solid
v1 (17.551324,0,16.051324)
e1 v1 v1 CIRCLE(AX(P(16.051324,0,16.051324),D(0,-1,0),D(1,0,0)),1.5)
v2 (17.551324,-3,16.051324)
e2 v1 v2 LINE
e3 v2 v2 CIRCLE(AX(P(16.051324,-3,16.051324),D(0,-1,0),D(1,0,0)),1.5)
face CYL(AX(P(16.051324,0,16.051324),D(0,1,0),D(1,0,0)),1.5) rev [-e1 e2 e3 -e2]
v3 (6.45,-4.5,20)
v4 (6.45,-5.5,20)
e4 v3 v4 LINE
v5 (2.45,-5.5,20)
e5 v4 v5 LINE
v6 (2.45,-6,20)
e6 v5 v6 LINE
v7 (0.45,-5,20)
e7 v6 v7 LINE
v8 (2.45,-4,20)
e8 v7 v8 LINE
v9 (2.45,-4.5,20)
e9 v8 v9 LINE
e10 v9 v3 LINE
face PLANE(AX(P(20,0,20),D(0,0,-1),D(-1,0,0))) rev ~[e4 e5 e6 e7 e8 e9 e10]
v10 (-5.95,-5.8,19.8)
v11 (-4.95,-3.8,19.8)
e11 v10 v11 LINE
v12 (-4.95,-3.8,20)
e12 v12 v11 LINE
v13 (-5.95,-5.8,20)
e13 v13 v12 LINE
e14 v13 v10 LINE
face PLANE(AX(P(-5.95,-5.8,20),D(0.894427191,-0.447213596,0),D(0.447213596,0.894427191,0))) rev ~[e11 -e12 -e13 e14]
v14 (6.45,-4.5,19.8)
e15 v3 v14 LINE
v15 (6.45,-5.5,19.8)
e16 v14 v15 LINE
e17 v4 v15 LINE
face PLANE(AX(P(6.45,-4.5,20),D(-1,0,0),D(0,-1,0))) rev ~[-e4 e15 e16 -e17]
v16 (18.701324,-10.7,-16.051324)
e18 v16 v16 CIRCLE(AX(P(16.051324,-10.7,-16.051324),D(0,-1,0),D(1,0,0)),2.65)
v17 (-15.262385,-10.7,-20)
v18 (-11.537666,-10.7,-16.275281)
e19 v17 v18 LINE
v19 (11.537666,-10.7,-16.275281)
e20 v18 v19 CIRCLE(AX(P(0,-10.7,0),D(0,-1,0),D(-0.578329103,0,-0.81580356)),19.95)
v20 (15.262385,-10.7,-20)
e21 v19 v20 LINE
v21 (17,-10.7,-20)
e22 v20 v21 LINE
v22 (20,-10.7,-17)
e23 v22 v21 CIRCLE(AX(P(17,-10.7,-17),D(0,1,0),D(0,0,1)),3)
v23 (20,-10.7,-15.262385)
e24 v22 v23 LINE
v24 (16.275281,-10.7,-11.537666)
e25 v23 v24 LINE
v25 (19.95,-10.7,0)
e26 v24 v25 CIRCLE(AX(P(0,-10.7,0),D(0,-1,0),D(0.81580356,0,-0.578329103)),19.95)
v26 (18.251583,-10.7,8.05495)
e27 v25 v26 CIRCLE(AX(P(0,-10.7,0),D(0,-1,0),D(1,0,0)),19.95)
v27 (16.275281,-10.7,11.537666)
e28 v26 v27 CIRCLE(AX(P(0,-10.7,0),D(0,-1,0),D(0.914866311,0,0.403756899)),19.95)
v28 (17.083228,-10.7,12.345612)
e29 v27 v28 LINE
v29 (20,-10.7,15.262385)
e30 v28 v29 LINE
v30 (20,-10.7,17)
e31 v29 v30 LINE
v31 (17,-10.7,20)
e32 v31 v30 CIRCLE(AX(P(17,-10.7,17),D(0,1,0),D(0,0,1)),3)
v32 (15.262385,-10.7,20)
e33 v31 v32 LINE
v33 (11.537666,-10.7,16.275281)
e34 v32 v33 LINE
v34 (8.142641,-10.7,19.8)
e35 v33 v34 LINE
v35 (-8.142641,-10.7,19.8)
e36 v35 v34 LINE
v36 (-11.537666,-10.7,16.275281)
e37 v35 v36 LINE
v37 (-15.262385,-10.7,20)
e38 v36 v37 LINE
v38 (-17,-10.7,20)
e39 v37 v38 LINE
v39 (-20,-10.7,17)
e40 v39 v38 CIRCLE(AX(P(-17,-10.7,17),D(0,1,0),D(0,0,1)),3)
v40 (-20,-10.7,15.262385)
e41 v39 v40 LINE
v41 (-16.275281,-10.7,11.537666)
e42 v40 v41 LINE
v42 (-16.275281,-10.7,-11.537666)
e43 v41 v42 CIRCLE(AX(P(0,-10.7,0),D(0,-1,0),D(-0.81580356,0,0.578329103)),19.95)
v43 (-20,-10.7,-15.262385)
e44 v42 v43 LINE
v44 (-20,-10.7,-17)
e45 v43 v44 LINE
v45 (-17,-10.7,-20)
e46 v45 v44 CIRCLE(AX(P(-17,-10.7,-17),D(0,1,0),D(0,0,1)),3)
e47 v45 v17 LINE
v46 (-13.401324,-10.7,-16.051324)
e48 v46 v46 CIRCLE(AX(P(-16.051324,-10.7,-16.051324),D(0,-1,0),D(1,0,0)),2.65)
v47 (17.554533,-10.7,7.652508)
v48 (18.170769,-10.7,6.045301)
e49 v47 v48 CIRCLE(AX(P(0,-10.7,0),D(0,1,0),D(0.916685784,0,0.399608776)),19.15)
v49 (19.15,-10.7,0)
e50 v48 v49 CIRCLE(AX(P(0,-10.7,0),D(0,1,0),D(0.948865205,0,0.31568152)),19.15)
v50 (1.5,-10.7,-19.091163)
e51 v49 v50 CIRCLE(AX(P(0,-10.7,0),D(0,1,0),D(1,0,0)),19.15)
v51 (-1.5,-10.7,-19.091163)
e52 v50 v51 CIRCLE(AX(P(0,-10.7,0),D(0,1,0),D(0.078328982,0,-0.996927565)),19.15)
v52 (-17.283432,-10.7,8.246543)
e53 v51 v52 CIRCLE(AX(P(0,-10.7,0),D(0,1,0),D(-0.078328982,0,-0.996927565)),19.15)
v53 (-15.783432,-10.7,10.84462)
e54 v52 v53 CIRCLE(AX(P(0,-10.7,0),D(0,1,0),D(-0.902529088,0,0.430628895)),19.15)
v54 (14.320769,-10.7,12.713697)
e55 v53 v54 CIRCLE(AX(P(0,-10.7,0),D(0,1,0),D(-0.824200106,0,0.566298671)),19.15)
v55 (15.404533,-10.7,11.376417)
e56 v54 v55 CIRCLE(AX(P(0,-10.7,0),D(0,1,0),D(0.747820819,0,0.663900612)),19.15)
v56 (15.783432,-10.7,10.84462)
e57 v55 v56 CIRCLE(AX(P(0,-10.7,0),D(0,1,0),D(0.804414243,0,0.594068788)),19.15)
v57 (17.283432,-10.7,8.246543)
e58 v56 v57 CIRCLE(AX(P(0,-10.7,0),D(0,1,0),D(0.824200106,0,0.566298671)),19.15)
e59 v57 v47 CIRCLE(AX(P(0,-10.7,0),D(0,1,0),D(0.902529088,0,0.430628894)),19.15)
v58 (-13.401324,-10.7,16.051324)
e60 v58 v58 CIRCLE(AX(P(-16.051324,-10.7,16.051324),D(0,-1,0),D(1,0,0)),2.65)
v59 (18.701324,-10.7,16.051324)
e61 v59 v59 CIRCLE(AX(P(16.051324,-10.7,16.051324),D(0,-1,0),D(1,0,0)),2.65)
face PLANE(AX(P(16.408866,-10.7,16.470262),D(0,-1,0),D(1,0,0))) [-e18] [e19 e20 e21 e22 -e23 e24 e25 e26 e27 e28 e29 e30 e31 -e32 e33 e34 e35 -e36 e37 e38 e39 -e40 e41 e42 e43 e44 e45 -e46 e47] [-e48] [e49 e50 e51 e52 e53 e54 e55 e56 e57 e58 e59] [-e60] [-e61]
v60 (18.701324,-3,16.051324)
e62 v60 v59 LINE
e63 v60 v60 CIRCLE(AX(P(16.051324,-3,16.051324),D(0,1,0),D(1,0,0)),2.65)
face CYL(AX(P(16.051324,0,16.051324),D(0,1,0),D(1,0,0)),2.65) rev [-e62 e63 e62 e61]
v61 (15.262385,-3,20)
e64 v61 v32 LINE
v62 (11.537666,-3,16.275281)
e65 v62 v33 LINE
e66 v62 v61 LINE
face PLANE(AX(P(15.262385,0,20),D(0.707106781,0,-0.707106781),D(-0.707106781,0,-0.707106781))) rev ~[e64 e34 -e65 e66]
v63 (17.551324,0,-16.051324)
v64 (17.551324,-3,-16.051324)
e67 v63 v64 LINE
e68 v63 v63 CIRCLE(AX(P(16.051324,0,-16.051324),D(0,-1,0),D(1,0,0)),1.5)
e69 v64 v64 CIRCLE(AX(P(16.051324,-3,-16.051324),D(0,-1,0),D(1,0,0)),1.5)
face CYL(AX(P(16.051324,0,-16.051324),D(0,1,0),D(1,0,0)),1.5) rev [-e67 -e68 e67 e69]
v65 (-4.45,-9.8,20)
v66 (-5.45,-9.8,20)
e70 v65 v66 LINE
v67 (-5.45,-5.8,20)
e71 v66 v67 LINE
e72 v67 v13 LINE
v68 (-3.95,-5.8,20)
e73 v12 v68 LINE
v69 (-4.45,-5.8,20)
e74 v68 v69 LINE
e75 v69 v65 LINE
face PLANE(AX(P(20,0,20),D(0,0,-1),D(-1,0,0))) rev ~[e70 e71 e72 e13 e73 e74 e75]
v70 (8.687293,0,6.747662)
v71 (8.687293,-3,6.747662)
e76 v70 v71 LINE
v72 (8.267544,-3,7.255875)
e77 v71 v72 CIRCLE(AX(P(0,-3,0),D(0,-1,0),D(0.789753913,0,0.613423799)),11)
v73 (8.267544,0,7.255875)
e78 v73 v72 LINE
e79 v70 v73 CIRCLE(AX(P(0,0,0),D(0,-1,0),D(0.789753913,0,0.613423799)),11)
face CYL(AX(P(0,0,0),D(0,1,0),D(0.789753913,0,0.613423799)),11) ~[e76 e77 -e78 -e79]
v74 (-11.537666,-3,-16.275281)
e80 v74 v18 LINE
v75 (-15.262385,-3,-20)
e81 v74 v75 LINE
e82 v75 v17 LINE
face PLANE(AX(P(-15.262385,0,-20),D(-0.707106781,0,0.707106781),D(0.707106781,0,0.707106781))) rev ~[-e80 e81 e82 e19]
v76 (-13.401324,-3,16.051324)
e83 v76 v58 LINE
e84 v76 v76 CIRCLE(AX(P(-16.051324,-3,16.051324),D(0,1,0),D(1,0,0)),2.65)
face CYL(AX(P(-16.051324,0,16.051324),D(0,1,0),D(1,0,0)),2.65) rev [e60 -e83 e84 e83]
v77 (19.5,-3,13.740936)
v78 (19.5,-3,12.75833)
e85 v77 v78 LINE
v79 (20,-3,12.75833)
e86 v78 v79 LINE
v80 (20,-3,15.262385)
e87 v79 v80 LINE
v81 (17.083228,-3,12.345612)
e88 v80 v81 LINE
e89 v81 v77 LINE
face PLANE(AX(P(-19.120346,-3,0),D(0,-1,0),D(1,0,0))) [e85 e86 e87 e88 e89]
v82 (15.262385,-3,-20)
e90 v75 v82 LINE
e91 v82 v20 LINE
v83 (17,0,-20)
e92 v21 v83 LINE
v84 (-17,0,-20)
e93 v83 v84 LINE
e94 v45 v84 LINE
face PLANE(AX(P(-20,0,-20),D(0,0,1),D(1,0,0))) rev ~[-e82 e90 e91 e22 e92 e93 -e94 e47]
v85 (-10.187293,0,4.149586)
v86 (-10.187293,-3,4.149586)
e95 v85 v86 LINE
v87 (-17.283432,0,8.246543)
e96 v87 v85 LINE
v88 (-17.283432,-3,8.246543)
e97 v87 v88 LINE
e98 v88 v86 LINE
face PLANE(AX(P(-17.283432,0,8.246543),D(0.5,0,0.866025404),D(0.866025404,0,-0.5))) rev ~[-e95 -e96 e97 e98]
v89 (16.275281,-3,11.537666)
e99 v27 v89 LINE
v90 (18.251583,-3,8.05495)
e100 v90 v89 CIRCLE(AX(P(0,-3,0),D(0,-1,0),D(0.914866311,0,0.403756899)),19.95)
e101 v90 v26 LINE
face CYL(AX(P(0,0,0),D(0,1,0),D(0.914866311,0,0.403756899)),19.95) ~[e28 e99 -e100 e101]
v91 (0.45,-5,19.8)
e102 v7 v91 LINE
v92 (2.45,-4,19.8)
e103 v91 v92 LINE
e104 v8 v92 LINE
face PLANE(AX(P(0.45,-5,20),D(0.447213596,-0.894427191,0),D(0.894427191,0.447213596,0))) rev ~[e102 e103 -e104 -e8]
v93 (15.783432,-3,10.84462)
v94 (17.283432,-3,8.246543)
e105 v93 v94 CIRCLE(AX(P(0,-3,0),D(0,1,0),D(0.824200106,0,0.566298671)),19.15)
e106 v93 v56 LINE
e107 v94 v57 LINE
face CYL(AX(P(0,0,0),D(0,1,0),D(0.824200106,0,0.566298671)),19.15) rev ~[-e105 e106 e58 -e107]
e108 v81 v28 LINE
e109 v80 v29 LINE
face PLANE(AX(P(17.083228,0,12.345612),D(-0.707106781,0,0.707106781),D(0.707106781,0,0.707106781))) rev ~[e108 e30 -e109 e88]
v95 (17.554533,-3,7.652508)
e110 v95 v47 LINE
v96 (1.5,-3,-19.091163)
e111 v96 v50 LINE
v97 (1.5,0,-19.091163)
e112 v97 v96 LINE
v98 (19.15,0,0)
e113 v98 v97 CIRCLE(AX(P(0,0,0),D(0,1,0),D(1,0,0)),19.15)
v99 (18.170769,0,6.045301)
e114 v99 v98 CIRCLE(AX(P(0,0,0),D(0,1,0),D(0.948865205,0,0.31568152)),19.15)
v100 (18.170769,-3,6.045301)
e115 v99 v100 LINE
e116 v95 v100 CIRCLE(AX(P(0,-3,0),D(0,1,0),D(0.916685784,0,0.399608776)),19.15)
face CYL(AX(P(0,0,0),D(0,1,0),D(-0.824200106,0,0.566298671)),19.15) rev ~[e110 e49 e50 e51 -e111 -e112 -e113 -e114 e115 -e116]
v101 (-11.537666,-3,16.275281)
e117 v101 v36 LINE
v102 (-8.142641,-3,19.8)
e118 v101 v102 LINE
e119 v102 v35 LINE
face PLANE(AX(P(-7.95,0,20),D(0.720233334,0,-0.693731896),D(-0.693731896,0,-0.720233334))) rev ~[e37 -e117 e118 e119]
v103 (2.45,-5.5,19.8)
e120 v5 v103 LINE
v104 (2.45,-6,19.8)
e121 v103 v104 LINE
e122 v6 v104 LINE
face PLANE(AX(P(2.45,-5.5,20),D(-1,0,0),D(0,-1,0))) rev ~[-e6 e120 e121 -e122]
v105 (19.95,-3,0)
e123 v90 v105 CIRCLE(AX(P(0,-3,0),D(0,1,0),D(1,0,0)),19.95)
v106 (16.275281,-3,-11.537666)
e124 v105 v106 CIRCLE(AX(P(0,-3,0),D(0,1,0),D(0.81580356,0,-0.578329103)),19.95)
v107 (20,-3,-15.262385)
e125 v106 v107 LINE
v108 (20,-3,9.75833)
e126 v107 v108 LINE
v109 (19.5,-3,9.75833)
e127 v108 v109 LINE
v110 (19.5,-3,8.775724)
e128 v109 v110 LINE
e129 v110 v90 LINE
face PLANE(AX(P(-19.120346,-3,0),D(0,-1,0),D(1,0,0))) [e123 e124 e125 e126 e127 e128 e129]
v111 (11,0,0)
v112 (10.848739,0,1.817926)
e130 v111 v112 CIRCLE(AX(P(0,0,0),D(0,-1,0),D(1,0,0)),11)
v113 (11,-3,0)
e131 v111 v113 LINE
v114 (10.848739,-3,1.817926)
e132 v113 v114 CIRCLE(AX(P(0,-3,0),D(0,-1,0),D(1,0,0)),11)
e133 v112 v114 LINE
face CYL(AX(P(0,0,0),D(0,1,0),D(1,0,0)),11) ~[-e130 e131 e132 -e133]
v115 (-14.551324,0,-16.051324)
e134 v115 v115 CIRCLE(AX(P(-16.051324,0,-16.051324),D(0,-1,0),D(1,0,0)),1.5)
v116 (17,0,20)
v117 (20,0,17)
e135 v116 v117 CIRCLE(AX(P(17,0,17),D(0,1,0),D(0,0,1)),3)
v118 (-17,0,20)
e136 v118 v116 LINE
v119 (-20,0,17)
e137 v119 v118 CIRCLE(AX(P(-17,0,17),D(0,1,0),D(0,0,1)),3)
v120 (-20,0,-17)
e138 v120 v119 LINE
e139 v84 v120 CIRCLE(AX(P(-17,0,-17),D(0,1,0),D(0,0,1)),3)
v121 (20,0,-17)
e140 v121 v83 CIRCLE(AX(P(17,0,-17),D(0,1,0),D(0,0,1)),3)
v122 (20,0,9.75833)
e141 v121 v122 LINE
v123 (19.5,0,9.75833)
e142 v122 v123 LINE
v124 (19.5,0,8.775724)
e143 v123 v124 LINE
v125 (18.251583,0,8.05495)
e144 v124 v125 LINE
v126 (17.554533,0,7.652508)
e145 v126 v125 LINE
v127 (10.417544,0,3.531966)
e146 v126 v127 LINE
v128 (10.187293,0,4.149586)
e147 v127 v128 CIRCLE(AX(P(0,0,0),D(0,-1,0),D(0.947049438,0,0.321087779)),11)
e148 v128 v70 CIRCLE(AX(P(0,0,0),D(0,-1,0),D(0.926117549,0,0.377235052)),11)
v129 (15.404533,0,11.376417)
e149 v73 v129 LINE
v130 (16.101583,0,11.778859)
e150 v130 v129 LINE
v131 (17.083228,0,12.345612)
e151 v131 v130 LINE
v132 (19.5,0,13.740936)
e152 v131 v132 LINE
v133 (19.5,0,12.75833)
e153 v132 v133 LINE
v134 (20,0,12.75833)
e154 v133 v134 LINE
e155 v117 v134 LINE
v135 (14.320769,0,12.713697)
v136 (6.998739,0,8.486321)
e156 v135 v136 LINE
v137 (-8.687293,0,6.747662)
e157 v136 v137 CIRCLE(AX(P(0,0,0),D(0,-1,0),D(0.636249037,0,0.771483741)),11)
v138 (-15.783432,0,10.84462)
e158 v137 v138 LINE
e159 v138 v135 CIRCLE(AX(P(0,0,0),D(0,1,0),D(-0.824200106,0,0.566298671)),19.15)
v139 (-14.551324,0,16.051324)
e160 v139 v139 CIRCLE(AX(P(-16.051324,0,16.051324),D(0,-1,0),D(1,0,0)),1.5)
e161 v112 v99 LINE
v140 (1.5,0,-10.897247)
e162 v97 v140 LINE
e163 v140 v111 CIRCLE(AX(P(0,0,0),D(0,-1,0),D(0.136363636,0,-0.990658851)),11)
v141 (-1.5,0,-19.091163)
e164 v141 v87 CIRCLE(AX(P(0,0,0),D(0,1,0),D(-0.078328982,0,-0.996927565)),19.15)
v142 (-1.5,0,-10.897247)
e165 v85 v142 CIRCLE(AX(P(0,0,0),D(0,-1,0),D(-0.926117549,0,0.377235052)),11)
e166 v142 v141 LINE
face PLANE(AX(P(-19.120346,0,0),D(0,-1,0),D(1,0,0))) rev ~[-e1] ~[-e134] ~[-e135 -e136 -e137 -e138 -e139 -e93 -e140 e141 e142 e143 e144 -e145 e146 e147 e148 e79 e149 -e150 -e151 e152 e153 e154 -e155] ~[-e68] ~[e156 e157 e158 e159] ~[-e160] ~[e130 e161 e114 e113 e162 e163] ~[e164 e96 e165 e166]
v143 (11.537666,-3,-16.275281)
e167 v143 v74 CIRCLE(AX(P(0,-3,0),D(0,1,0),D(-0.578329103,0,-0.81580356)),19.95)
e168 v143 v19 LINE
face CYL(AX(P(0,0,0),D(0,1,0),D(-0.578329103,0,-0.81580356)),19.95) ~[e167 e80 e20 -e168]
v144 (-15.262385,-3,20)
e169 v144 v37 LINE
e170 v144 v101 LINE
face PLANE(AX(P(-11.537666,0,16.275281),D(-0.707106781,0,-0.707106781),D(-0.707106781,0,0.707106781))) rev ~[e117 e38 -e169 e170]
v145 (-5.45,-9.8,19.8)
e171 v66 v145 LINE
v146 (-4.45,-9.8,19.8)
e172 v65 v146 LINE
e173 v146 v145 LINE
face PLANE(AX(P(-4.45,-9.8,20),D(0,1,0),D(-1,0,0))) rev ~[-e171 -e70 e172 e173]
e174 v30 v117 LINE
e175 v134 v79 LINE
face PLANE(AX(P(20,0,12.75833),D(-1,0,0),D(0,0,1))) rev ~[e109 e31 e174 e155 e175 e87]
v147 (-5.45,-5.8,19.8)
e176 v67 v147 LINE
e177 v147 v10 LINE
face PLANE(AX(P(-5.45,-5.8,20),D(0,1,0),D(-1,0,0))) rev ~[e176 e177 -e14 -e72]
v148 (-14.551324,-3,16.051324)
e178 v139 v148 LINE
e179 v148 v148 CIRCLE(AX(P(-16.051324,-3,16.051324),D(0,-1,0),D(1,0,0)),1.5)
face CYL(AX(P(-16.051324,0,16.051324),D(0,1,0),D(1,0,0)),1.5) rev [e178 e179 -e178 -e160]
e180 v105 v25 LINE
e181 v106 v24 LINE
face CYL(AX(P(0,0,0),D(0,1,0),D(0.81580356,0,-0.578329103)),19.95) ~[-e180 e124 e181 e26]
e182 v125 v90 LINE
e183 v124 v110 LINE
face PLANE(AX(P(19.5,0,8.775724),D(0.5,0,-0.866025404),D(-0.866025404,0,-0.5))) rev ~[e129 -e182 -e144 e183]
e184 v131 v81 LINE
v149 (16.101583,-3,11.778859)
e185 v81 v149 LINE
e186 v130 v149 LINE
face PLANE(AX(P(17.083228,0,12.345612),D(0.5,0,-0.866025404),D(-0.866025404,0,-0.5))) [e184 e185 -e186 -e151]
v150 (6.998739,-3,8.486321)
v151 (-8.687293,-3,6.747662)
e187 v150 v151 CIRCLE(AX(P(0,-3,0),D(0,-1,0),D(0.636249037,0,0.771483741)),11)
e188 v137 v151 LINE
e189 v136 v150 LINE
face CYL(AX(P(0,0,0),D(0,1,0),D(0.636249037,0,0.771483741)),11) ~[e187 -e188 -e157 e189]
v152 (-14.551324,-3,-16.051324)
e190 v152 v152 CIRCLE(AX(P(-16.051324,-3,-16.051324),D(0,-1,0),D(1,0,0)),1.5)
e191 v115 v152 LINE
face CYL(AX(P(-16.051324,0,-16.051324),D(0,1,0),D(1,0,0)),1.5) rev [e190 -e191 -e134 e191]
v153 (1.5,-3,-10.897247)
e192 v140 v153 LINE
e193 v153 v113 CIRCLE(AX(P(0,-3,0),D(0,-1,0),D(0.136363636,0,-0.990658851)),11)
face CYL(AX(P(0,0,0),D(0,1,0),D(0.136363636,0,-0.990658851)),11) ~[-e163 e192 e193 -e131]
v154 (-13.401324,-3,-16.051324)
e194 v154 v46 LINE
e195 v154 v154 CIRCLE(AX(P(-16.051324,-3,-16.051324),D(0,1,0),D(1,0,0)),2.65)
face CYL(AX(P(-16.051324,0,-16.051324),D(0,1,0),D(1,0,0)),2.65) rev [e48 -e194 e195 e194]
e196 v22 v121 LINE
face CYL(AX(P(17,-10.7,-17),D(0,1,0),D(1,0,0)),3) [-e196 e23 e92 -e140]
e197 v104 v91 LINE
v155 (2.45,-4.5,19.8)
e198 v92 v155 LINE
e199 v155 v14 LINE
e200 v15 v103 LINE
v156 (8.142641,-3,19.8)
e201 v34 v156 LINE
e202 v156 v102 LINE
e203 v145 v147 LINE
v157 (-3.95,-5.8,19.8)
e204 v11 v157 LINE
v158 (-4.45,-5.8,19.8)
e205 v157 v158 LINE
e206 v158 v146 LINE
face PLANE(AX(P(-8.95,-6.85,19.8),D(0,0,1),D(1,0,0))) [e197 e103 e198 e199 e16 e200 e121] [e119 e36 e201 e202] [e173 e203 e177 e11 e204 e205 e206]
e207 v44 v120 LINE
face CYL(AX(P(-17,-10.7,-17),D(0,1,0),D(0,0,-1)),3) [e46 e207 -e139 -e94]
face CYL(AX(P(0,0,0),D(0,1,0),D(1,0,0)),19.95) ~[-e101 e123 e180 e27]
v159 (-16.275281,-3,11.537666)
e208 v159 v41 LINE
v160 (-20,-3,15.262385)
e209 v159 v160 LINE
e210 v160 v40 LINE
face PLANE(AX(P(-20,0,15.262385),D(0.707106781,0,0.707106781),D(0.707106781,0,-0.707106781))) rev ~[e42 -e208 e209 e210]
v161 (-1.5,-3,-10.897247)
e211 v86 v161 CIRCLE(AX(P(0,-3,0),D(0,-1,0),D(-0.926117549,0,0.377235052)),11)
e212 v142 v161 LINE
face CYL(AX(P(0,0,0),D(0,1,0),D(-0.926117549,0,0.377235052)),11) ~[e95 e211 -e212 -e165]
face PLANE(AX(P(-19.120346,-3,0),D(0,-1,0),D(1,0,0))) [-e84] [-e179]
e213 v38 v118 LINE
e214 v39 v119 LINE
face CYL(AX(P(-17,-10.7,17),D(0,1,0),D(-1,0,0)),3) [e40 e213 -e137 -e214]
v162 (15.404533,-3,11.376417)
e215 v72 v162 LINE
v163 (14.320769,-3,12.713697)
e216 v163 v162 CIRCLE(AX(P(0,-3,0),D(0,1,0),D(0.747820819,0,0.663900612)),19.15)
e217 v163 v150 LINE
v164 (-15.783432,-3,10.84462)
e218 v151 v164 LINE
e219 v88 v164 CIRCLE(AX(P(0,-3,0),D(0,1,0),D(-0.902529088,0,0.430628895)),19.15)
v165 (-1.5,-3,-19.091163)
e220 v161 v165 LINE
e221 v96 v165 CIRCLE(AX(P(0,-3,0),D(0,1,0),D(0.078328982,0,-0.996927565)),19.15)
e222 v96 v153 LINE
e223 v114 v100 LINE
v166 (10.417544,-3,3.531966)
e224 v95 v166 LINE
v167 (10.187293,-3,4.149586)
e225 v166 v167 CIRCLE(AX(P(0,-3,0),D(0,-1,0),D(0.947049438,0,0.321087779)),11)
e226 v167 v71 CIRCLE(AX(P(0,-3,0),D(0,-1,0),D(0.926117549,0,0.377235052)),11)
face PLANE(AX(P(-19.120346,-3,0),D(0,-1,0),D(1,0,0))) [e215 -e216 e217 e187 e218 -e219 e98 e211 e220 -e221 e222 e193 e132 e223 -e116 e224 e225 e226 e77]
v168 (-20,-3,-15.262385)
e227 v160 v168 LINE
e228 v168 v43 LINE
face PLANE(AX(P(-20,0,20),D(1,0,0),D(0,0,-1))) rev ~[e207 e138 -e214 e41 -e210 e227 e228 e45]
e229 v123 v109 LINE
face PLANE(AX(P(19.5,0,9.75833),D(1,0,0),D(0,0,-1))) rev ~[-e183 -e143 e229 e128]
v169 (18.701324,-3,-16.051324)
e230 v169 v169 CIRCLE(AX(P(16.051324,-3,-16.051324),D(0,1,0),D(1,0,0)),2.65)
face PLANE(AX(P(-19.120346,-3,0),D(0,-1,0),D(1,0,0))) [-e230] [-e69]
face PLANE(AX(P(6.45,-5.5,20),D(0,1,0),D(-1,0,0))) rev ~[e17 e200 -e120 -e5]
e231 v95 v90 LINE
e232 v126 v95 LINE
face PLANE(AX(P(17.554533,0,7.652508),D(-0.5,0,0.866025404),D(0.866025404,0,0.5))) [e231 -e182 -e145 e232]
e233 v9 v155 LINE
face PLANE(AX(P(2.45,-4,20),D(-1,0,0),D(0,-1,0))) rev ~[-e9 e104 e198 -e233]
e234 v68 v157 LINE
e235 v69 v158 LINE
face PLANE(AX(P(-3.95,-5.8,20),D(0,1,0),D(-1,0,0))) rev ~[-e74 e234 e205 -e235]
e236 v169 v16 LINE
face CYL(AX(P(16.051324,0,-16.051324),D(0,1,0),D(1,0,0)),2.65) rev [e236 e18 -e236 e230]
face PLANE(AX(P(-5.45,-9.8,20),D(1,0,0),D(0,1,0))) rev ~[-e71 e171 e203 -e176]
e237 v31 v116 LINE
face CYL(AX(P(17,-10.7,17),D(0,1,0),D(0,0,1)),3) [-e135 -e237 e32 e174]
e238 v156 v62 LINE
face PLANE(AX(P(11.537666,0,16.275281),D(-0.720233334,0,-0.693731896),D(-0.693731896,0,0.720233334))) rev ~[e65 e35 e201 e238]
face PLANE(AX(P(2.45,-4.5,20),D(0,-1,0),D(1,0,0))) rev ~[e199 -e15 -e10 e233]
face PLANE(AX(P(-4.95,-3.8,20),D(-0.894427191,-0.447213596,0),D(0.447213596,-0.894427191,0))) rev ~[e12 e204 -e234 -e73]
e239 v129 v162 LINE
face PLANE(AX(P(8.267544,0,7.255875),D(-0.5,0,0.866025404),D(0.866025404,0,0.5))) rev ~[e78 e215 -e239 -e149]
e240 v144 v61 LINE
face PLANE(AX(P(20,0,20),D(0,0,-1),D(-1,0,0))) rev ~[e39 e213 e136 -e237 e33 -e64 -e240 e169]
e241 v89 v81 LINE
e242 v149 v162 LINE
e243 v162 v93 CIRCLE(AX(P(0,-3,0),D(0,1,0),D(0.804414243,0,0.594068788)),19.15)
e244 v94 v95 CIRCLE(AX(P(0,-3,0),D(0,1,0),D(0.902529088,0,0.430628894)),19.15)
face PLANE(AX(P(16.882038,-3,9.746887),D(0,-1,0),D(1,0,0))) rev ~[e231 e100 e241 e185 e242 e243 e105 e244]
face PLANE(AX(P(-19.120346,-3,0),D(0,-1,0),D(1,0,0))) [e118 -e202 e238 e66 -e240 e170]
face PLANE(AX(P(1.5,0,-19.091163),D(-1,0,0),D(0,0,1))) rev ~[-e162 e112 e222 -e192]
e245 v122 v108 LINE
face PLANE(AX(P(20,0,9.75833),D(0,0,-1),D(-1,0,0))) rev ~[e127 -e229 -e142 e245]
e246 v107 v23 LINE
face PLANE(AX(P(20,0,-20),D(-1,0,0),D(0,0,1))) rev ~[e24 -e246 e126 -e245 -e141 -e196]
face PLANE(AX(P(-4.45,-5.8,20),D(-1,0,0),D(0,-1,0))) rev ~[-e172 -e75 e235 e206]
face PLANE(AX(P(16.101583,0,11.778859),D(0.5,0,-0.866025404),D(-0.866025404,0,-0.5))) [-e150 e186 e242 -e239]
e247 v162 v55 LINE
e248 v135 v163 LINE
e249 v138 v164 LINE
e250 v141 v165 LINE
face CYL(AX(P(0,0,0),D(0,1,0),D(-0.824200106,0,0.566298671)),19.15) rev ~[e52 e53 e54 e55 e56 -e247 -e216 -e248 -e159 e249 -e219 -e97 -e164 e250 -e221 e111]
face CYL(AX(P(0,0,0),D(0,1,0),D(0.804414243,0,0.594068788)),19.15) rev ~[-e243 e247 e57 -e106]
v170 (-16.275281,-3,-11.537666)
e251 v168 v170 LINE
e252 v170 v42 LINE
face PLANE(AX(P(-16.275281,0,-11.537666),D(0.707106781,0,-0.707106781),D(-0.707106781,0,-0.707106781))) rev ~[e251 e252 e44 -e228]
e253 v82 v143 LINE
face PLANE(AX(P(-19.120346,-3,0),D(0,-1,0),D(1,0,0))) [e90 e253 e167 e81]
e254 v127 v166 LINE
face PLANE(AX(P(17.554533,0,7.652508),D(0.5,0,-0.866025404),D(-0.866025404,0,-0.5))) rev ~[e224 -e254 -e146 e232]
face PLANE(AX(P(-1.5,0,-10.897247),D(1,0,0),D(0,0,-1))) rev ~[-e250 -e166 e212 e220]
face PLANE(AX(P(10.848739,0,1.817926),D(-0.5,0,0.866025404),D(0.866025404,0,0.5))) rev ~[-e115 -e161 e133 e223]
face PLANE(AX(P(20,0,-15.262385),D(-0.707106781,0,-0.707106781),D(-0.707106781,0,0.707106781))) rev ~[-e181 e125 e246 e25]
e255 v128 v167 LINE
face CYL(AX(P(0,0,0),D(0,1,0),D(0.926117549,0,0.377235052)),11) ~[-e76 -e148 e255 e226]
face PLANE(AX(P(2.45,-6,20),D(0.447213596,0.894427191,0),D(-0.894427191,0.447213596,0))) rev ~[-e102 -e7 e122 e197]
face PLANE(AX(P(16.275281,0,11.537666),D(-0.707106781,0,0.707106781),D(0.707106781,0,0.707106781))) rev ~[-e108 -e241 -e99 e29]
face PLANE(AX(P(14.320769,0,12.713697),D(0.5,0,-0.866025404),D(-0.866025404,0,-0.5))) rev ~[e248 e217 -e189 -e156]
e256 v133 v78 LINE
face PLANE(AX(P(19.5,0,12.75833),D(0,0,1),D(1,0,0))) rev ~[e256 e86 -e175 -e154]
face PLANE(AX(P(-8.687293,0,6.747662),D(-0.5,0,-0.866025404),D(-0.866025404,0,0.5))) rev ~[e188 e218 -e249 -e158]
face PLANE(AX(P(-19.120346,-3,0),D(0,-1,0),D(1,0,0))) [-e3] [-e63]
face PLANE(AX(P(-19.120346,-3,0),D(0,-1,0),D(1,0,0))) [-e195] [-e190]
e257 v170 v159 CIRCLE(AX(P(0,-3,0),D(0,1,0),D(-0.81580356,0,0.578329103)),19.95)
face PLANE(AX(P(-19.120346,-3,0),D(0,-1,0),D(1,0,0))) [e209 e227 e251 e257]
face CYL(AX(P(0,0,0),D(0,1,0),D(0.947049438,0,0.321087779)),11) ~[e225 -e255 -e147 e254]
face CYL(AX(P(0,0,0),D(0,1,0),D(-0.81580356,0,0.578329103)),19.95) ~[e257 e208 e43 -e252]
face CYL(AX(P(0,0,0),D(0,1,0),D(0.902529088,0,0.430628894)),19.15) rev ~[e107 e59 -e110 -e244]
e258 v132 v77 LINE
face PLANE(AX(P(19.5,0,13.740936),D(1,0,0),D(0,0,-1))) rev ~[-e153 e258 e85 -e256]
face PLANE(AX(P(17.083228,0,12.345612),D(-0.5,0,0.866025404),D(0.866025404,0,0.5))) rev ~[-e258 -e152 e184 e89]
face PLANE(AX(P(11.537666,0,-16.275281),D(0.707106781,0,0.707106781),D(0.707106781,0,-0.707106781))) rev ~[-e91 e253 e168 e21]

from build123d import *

# Parameters (mm, degrees)
F0_R     = 2.65
F0_R_2   = 1.5
F1_DEPTH = 3
F2_DEPTH = 10.7
F3_DEPTH = 3
F4_R     = 3
F5_W     = 2
F5_H     = 7.7
F5_W_2   = 15.9
F6_DEPTH = 0.2


with BuildPart() as f1:
    # F0 (on Front) → F1 (new body)
    with BuildSketch(Plane.XZ):
        with BuildLine():
            ThreePointArc((-16.2752810298, -11.5376655958), (-19.95, 0), (-16.2752810298, 11.5376655958))
            Line((-16.2752810298, 11.5376655958), (-20, 15.2623845661))
            Line((-20, 15.2623845661), (-20, -15.2623845661))
            Line((-20, -15.2623845661), (-16.2752810298, -11.5376655958))
        make_face()
        with BuildLine():
            ThreePointArc((16.1015828965, 11.7788593772), (14.0013023046, 14.2114754257), (11.5376655958, 16.2752810298))
            ThreePointArc((11.5376655958, 16.2752810298), (0, 19.95), (-11.5376655958, 16.2752810298))
            ThreePointArc((-11.5376655958, 16.2752810298), (-14.1067802847, 14.1067802847), (-16.2752810298, 11.5376655958))
            ThreePointArc((-16.2752810298, 11.5376655958), (-19.95, 0), (-16.2752810298, -11.5376655958))
            ThreePointArc((-16.2752810298, -11.5376655958), (-14.1067802847, -14.1067802847), (-11.5376655958, -16.2752810298))
            ThreePointArc((-11.5376655958, -16.2752810298), (0, -19.95), (11.5376655958, -16.2752810298))
            ThreePointArc((11.5376655958, -16.2752810298), (14.1067802847, -14.1067802847), (16.2752810298, -11.5376655958))
            ThreePointArc((16.2752810298, -11.5376655958), (19.0091340748, -6.0543638582), (19.95, 0))
            ThreePointArc((19.95, 0), (19.5207784013, 4.1160309289), (18.2515828965, 8.0549501409))
            Line((18.2515828965, 8.0549501409), (17.5545327604, 7.6525080572))
            ThreePointArc((17.5545327604, 7.6525080572), (17.8807178068, 6.8558318761), (18.1707686799, 6.0453011159))
            ThreePointArc((18.1707686799, 6.0453011159), (18.9036070661, 3.0620483161), (19.15, 0))
            ThreePointArc((19.15, 0), (14.0614277369, -12.999951923), (1.5, -19.0911628771))
            ThreePointArc((1.5, -19.0911628771), (0, -19.15), (-1.5, -19.0911628771))
            ThreePointArc((-1.5, -19.0911628771), (-16.5843864825, -9.575), (-17.2834320394, 8.2465433329))
            ThreePointArc((-17.2834320394, 8.2465433329), (-16.5843864825, 9.575), (-15.7834320394, 10.8446195442))
            ThreePointArc((-15.7834320394, 10.8446195442), (-1.1866795704, 19.1131967917), (14.3207686799, 12.7136967251))
            ThreePointArc((14.3207686799, 12.7136967251), (14.8776834722, 12.0572399206), (15.4045327604, 11.3764172935))
            Line((15.4045327604, 11.3764172935), (16.1015828965, 11.7788593772))
        make_face()
        with BuildLine():
            ThreePointArc((-16.2752810298, 11.5376655958), (-14.1067802847, 14.1067802847), (-11.5376655958, 16.2752810298))
            Line((-11.5376655958, 16.2752810298), (-15.2623845661, 20))
            Line((-15.2623845661, 20), (-20, 20))
            Line((-20, 20), (-20, 15.2623845661))
            Line((-20, 15.2623845661), (-16.2752810298, 11.5376655958))
        make_face()
        with Locations((-16.0513239329, 16.0513239329)):
            Circle(F0_R, mode=Mode.SUBTRACT)
        Polygon((-11.5376655958, 16.2752810298), (-7.95, 20), (-15.2623845661, 20), align=None)
        with BuildLine():
            Line((11.5376655958, 16.2752810298), (7.95, 20))
            Line((7.95, 20), (-7.95, 20))
            Line((-7.95, 20), (-11.5376655958, 16.2752810298))
            ThreePointArc((-11.5376655958, 16.2752810298), (0, 19.95), (11.5376655958, 16.2752810298))
        make_face()
        Polygon((11.5376655958, 16.2752810298), (15.2623845661, 20), (7.95, 20), align=None)
        with BuildLine():
            Line((20, 15.2623845661), (20, 20))
            Line((20, 20), (15.2623845661, 20))
            Line((15.2623845661, 20), (11.5376655958, 16.2752810298))
            ThreePointArc((11.5376655958, 16.2752810298), (14.0013023046, 14.2114754257), (16.1015828965, 11.7788593772))
            Line((16.1015828965, 11.7788593772), (17.0832277064, 12.3456122724))
            Line((17.0832277064, 12.3456122724), (20, 15.2623845661))
        make_face()
        with Locations((16.0513239329, 16.0513239329)):
            Circle(F0_R, mode=Mode.SUBTRACT)
        with Locations((-16.0513239329, 16.0513239329)):
            Circle(F0_R)
        with Locations((-16.0513239329, 16.0513239329)):
            Circle(F0_R_2, mode=Mode.SUBTRACT)
        with Locations((16.0513239329, 16.0513239329)):
            Circle(F0_R)
        with Locations((16.0513239329, 16.0513239329)):
            Circle(F0_R_2, mode=Mode.SUBTRACT)
        with BuildLine():
            Line((-8.6872930441, 6.7476617851), (-15.7834320394, 10.8446195442))
            ThreePointArc((-15.7834320394, 10.8446195442), (-16.5843864825, 9.575), (-17.2834320394, 8.2465433329))
            Line((-17.2834320394, 8.2465433329), (-10.1872930441, 4.1495855737))
            ThreePointArc((-10.1872930441, 4.1495855737), (-9.5262794416, 5.5), (-8.6872930441, 6.7476617851))
        make_face()
        with BuildLine():
            ThreePointArc((8.6872930441, 6.7476617851), (8.481225936, 7.0049130346), (8.2675438185, 7.2558748066))
            ThreePointArc((8.2675438185, 7.2558748066), (7.6578946474, 7.8966226685), (6.9987394068, 8.4863211532))
            ThreePointArc((6.9987394068, 8.4863211532), (-1.2118322682, 10.9330445235), (-8.6872930441, 6.7476617851))
            ThreePointArc((-8.6872930441, 6.7476617851), (-9.5262794416, 5.5), (-10.1872930441, 4.1495855737))
            ThreePointArc((-10.1872930441, 4.1495855737), (-9.5262794416, -5.5), (-1.5, -10.8972473589))
            ThreePointArc((-1.5, -10.8972473589), (0, -11), (1.5, -10.8972473589))
            ThreePointArc((1.5, -10.8972473589), (8.2915619759, -7.2284161474), (11, 0))
            ThreePointArc((11, 0), (10.9621196279, 0.9121037566), (10.8487394068, 1.8179255441))
            ThreePointArc((10.8487394068, 1.8179255441), (10.6676231587, 2.6836199699), (10.4175438185, 3.5319655704))
            ThreePointArc((10.4175438185, 3.5319655704), (10.3070456073, 3.8425005985), (10.1872930441, 4.1495855737))
            ThreePointArc((10.1872930441, 4.1495855737), (9.5262794416, 5.5), (8.6872930441, 6.7476617851))
        make_face()
        with BuildLine():
            Line((8.2675438185, 7.2558748066), (15.4045327604, 11.3764172935))
            ThreePointArc((15.4045327604, 11.3764172935), (14.8776834722, 12.0572399206), (14.3207686799, 12.7136967251))
            Line((14.3207686799, 12.7136967251), (6.9987394068, 8.4863211532))
            ThreePointArc((6.9987394068, 8.4863211532), (7.6578946474, 7.8966226685), (8.2675438185, 7.2558748066))
        make_face()
        with BuildLine():
            ThreePointArc((18.1707686799, 6.0453011159), (17.8807178068, 6.8558318761), (17.5545327604, 7.6525080572))
            Line((17.5545327604, 7.6525080572), (10.4175438185, 3.5319655704))
            ThreePointArc((10.4175438185, 3.5319655704), (10.6676231587, 2.6836199699), (10.8487394068, 1.8179255441))
            Line((10.8487394068, 1.8179255441), (18.1707686799, 6.0453011159))
        make_face()
        with BuildLine():
            Line((19.5, 8.7757240917), (18.2515828965, 8.0549501409))
            ThreePointArc((18.2515828965, 8.0549501409), (19.5207784013, 4.1160309289), (19.95, 0))
            ThreePointArc((19.95, 0), (19.0091340748, -6.0543638582), (16.2752810298, -11.5376655958))
            Line((16.2752810298, -11.5376655958), (20, -15.2623845661))
            Line((20, -15.2623845661), (20, 9.0643992263))
            Line((20, 9.0643992263), (19.5, 8.7757240917))
        make_face()
        Polygon((20, 14.0296115413), (20, 15.2623845661), (17.0832277064, 12.3456122724), (19.5, 13.7409364067), align=None)
        Polygon((20, 12.7583302492), (20, 14.0296115413), (19.5, 13.7409364067), (19.5, 12.7583302492), align=None)
        Polygon((20, 9.0643992263), (20, 9.7583302492), (19.5, 9.7583302492), (19.5, 8.7757240917), align=None)
        with BuildLine():
            Line((16.2752810298, 11.5376655958), (17.0832277064, 12.3456122724))
            Line((17.0832277064, 12.3456122724), (16.1015828965, 11.7788593772))
            ThreePointArc((16.1015828965, 11.7788593772), (16.1888811545, 11.6585859762), (16.2752810298, 11.5376655958))
        make_face()
        with BuildLine():
            Line((20, -20), (20, -15.2623845661))
            Line((20, -15.2623845661), (16.2752810298, -11.5376655958))
            ThreePointArc((16.2752810298, -11.5376655958), (14.1067802847, -14.1067802847), (11.5376655958, -16.2752810298))
            Line((11.5376655958, -16.2752810298), (15.2623845661, -20))
            Line((15.2623845661, -20), (20, -20))
        make_face()
        with Locations((16.0513239329, -16.0513239329)):
            Circle(F0_R, mode=Mode.SUBTRACT)
        with BuildLine():
            ThreePointArc((11.5376655958, -16.2752810298), (0, -19.95), (-11.5376655958, -16.2752810298))
            Line((-11.5376655958, -16.2752810298), (-15.2623845661, -20))
            Line((-15.2623845661, -20), (15.2623845661, -20))
            Line((15.2623845661, -20), (11.5376655958, -16.2752810298))
        make_face()
        with BuildLine():
            ThreePointArc((-11.5376655958, -16.2752810298), (-14.1067802847, -14.1067802847), (-16.2752810298, -11.5376655958))
            Line((-16.2752810298, -11.5376655958), (-20, -15.2623845661))
            Line((-20, -15.2623845661), (-20, -20))
            Line((-20, -20), (-15.2623845661, -20))
            Line((-15.2623845661, -20), (-11.5376655958, -16.2752810298))
        make_face()
        with Locations((-16.0513239329, -16.0513239329)):
            Circle(F0_R, mode=Mode.SUBTRACT)
        with Locations((-16.0513239329, -16.0513239329)):
            Circle(F0_R)
        with Locations((-16.0513239329, -16.0513239329)):
            Circle(F0_R_2, mode=Mode.SUBTRACT)
        with Locations((16.0513239329, -16.0513239329)):
            Circle(F0_R)
        with Locations((16.0513239329, -16.0513239329)):
            Circle(F0_R_2, mode=Mode.SUBTRACT)
        with BuildLine():
            Line((-1.5, -10.8972473589), (-1.5, -19.0911628771))
            ThreePointArc((-1.5, -19.0911628771), (0, -19.15), (1.5, -19.0911628771))
            Line((1.5, -19.0911628771), (1.5, -10.8972473589))
            ThreePointArc((1.5, -10.8972473589), (0, -11), (-1.5, -10.8972473589))
        make_face()
    extrude(amount=F1_DEPTH)

    # F0 (on Front) → F2 (join)
    with BuildSketch(Plane.XZ):
        with BuildLine():
            Line((20, 15.2623845661), (20, 20))
            Line((20, 20), (15.2623845661, 20))
            Line((15.2623845661, 20), (11.5376655958, 16.2752810298))
            ThreePointArc((11.5376655958, 16.2752810298), (14.0013023046, 14.2114754257), (16.1015828965, 11.7788593772))
            Line((16.1015828965, 11.7788593772), (17.0832277064, 12.3456122724))
            Line((17.0832277064, 12.3456122724), (20, 15.2623845661))
        make_face()
        with Locations((16.0513239329, 16.0513239329)):
            Circle(F0_R, mode=Mode.SUBTRACT)
        with BuildLine():
            Line((11.5376655958, 16.2752810298), (7.95, 20))
            Line((7.95, 20), (-7.95, 20))
            Line((-7.95, 20), (-11.5376655958, 16.2752810298))
            ThreePointArc((-11.5376655958, 16.2752810298), (0, 19.95), (11.5376655958, 16.2752810298))
        make_face()
        with BuildLine():
            ThreePointArc((-16.2752810298, 11.5376655958), (-14.1067802847, 14.1067802847), (-11.5376655958, 16.2752810298))
            Line((-11.5376655958, 16.2752810298), (-15.2623845661, 20))
            Line((-15.2623845661, 20), (-20, 20))
            Line((-20, 20), (-20, 15.2623845661))
            Line((-20, 15.2623845661), (-16.2752810298, 11.5376655958))
        make_face()
        with Locations((-16.0513239329, 16.0513239329)):
            Circle(F0_R, mode=Mode.SUBTRACT)
        with BuildLine():
            ThreePointArc((16.1015828965, 11.7788593772), (14.0013023046, 14.2114754257), (11.5376655958, 16.2752810298))
            ThreePointArc((11.5376655958, 16.2752810298), (0, 19.95), (-11.5376655958, 16.2752810298))
            ThreePointArc((-11.5376655958, 16.2752810298), (-14.1067802847, 14.1067802847), (-16.2752810298, 11.5376655958))
            ThreePointArc((-16.2752810298, 11.5376655958), (-19.95, 0), (-16.2752810298, -11.5376655958))
            ThreePointArc((-16.2752810298, -11.5376655958), (-14.1067802847, -14.1067802847), (-11.5376655958, -16.2752810298))
            ThreePointArc((-11.5376655958, -16.2752810298), (0, -19.95), (11.5376655958, -16.2752810298))
            ThreePointArc((11.5376655958, -16.2752810298), (14.1067802847, -14.1067802847), (16.2752810298, -11.5376655958))
            ThreePointArc((16.2752810298, -11.5376655958), (19.0091340748, -6.0543638582), (19.95, 0))
            ThreePointArc((19.95, 0), (19.5207784013, 4.1160309289), (18.2515828965, 8.0549501409))
            Line((18.2515828965, 8.0549501409), (17.5545327604, 7.6525080572))
            ThreePointArc((17.5545327604, 7.6525080572), (17.8807178068, 6.8558318761), (18.1707686799, 6.0453011159))
            ThreePointArc((18.1707686799, 6.0453011159), (18.9036070661, 3.0620483161), (19.15, 0))
            ThreePointArc((19.15, 0), (14.0614277369, -12.999951923), (1.5, -19.0911628771))
            ThreePointArc((1.5, -19.0911628771), (0, -19.15), (-1.5, -19.0911628771))
            ThreePointArc((-1.5, -19.0911628771), (-16.5843864825, -9.575), (-17.2834320394, 8.2465433329))
            ThreePointArc((-17.2834320394, 8.2465433329), (-16.5843864825, 9.575), (-15.7834320394, 10.8446195442))
            ThreePointArc((-15.7834320394, 10.8446195442), (-1.1866795704, 19.1131967917), (14.3207686799, 12.7136967251))
            ThreePointArc((14.3207686799, 12.7136967251), (14.8776834722, 12.0572399206), (15.4045327604, 11.3764172935))
            Line((15.4045327604, 11.3764172935), (16.1015828965, 11.7788593772))
        make_face()
        with BuildLine():
            ThreePointArc((16.2752810298, 11.5376655958), (16.1888811545, 11.6585859762), (16.1015828965, 11.7788593772))
            Line((16.1015828965, 11.7788593772), (15.4045327604, 11.3764172935))
            ThreePointArc((15.4045327604, 11.3764172935), (15.5962492061, 11.1121334901), (15.7834320394, 10.8446195442))
            ThreePointArc((15.7834320394, 10.8446195442), (16.5843864825, 9.575), (17.2834320394, 8.2465433329))
            ThreePointArc((17.2834320394, 8.2465433329), (17.4215144957, 7.9506812712), (17.5545327604, 7.6525080572))
            Line((17.5545327604, 7.6525080572), (18.2515828965, 8.0549501409))
            ThreePointArc((18.2515828965, 8.0549501409), (17.351034836, 9.8460189985), (16.2752810298, 11.5376655958))
        make_face()
        with BuildLine():
            Line((20, -20), (20, -15.2623845661))
            Line((20, -15.2623845661), (16.2752810298, -11.5376655958))
            ThreePointArc((16.2752810298, -11.5376655958), (14.1067802847, -14.1067802847), (11.5376655958, -16.2752810298))
            Line((11.5376655958, -16.2752810298), (15.2623845661, -20))
            Line((15.2623845661, -20), (20, -20))
        make_face()
        with Locations((16.0513239329, -16.0513239329)):
            Circle(F0_R, mode=Mode.SUBTRACT)
        with BuildLine():
            ThreePointArc((-11.5376655958, -16.2752810298), (-14.1067802847, -14.1067802847), (-16.2752810298, -11.5376655958))
            Line((-16.2752810298, -11.5376655958), (-20, -15.2623845661))
            Line((-20, -15.2623845661), (-20, -20))
            Line((-20, -20), (-15.2623845661, -20))
            Line((-15.2623845661, -20), (-11.5376655958, -16.2752810298))
        make_face()
        with Locations((-16.0513239329, -16.0513239329)):
            Circle(F0_R, mode=Mode.SUBTRACT)
        with BuildLine():
            Line((16.2752810298, 11.5376655958), (17.0832277064, 12.3456122724))
            Line((17.0832277064, 12.3456122724), (16.1015828965, 11.7788593772))
            ThreePointArc((16.1015828965, 11.7788593772), (16.1888811545, 11.6585859762), (16.2752810298, 11.5376655958))
        make_face()
    extrude(amount=F2_DEPTH)

    # F0 (on Front) → F3 (cut, through all)
    with BuildSketch(Plane.XZ):
        with BuildLine():
            ThreePointArc((16.2752810298, 11.5376655958), (16.1888811545, 11.6585859762), (16.1015828965, 11.7788593772))
            Line((16.1015828965, 11.7788593772), (15.4045327604, 11.3764172935))
            ThreePointArc((15.4045327604, 11.3764172935), (15.5962492061, 11.1121334901), (15.7834320394, 10.8446195442))
            ThreePointArc((15.7834320394, 10.8446195442), (16.5843864825, 9.575), (17.2834320394, 8.2465433329))
            ThreePointArc((17.2834320394, 8.2465433329), (17.4215144957, 7.9506812712), (17.5545327604, 7.6525080572))
            Line((17.5545327604, 7.6525080572), (18.2515828965, 8.0549501409))
            ThreePointArc((18.2515828965, 8.0549501409), (17.351034836, 9.8460189985), (16.2752810298, 11.5376655958))
        make_face()
        with BuildLine():
            Line((16.2752810298, 11.5376655958), (17.0832277064, 12.3456122724))
            Line((17.0832277064, 12.3456122724), (16.1015828965, 11.7788593772))
            ThreePointArc((16.1015828965, 11.7788593772), (16.1888811545, 11.6585859762), (16.2752810298, 11.5376655958))
        make_face()
    extrude(amount=F3_DEPTH, mode=Mode.SUBTRACT)

    # F4
    f4_edges = [f1.edges().sort_by_distance(p)[0] for p in [
        (-20, -5.35, -20),
        (20, -5.35, -20),
        (20, -5.35, 20),
        (-20, -5.35, 20),
    ]]
    fillet(f4_edges, radius=F4_R)

    # F5 (on face) → F6 (cut)
    with BuildSketch(Plane.XY.offset(20)):
        with Locations((-8.95, -6.85)):
            Rectangle(F5_W, F5_H)
        with Locations((0, -6.85)):
            Rectangle(F5_W_2, F5_H)
        Polygon((-4.45, -9.8), (-5.45, -9.8), (-5.45, -5.8), (-5.95, -5.8), (-4.95, -3.8), (-3.95, -5.8), (-4.45, -5.8), align=None, mode=Mode.SUBTRACT)
        Polygon((6.45, -4.5), (6.45, -5.5), (2.45, -5.5), (2.45, -6), (0.45, -5), (2.45, -4), (2.45, -4.5), align=None, mode=Mode.SUBTRACT)
        with Locations((8.95, -6.85)):
            Rectangle(F5_W, F5_H)
    extrude(amount=-F6_DEPTH, mode=Mode.SUBTRACT)


solid = f1.part
